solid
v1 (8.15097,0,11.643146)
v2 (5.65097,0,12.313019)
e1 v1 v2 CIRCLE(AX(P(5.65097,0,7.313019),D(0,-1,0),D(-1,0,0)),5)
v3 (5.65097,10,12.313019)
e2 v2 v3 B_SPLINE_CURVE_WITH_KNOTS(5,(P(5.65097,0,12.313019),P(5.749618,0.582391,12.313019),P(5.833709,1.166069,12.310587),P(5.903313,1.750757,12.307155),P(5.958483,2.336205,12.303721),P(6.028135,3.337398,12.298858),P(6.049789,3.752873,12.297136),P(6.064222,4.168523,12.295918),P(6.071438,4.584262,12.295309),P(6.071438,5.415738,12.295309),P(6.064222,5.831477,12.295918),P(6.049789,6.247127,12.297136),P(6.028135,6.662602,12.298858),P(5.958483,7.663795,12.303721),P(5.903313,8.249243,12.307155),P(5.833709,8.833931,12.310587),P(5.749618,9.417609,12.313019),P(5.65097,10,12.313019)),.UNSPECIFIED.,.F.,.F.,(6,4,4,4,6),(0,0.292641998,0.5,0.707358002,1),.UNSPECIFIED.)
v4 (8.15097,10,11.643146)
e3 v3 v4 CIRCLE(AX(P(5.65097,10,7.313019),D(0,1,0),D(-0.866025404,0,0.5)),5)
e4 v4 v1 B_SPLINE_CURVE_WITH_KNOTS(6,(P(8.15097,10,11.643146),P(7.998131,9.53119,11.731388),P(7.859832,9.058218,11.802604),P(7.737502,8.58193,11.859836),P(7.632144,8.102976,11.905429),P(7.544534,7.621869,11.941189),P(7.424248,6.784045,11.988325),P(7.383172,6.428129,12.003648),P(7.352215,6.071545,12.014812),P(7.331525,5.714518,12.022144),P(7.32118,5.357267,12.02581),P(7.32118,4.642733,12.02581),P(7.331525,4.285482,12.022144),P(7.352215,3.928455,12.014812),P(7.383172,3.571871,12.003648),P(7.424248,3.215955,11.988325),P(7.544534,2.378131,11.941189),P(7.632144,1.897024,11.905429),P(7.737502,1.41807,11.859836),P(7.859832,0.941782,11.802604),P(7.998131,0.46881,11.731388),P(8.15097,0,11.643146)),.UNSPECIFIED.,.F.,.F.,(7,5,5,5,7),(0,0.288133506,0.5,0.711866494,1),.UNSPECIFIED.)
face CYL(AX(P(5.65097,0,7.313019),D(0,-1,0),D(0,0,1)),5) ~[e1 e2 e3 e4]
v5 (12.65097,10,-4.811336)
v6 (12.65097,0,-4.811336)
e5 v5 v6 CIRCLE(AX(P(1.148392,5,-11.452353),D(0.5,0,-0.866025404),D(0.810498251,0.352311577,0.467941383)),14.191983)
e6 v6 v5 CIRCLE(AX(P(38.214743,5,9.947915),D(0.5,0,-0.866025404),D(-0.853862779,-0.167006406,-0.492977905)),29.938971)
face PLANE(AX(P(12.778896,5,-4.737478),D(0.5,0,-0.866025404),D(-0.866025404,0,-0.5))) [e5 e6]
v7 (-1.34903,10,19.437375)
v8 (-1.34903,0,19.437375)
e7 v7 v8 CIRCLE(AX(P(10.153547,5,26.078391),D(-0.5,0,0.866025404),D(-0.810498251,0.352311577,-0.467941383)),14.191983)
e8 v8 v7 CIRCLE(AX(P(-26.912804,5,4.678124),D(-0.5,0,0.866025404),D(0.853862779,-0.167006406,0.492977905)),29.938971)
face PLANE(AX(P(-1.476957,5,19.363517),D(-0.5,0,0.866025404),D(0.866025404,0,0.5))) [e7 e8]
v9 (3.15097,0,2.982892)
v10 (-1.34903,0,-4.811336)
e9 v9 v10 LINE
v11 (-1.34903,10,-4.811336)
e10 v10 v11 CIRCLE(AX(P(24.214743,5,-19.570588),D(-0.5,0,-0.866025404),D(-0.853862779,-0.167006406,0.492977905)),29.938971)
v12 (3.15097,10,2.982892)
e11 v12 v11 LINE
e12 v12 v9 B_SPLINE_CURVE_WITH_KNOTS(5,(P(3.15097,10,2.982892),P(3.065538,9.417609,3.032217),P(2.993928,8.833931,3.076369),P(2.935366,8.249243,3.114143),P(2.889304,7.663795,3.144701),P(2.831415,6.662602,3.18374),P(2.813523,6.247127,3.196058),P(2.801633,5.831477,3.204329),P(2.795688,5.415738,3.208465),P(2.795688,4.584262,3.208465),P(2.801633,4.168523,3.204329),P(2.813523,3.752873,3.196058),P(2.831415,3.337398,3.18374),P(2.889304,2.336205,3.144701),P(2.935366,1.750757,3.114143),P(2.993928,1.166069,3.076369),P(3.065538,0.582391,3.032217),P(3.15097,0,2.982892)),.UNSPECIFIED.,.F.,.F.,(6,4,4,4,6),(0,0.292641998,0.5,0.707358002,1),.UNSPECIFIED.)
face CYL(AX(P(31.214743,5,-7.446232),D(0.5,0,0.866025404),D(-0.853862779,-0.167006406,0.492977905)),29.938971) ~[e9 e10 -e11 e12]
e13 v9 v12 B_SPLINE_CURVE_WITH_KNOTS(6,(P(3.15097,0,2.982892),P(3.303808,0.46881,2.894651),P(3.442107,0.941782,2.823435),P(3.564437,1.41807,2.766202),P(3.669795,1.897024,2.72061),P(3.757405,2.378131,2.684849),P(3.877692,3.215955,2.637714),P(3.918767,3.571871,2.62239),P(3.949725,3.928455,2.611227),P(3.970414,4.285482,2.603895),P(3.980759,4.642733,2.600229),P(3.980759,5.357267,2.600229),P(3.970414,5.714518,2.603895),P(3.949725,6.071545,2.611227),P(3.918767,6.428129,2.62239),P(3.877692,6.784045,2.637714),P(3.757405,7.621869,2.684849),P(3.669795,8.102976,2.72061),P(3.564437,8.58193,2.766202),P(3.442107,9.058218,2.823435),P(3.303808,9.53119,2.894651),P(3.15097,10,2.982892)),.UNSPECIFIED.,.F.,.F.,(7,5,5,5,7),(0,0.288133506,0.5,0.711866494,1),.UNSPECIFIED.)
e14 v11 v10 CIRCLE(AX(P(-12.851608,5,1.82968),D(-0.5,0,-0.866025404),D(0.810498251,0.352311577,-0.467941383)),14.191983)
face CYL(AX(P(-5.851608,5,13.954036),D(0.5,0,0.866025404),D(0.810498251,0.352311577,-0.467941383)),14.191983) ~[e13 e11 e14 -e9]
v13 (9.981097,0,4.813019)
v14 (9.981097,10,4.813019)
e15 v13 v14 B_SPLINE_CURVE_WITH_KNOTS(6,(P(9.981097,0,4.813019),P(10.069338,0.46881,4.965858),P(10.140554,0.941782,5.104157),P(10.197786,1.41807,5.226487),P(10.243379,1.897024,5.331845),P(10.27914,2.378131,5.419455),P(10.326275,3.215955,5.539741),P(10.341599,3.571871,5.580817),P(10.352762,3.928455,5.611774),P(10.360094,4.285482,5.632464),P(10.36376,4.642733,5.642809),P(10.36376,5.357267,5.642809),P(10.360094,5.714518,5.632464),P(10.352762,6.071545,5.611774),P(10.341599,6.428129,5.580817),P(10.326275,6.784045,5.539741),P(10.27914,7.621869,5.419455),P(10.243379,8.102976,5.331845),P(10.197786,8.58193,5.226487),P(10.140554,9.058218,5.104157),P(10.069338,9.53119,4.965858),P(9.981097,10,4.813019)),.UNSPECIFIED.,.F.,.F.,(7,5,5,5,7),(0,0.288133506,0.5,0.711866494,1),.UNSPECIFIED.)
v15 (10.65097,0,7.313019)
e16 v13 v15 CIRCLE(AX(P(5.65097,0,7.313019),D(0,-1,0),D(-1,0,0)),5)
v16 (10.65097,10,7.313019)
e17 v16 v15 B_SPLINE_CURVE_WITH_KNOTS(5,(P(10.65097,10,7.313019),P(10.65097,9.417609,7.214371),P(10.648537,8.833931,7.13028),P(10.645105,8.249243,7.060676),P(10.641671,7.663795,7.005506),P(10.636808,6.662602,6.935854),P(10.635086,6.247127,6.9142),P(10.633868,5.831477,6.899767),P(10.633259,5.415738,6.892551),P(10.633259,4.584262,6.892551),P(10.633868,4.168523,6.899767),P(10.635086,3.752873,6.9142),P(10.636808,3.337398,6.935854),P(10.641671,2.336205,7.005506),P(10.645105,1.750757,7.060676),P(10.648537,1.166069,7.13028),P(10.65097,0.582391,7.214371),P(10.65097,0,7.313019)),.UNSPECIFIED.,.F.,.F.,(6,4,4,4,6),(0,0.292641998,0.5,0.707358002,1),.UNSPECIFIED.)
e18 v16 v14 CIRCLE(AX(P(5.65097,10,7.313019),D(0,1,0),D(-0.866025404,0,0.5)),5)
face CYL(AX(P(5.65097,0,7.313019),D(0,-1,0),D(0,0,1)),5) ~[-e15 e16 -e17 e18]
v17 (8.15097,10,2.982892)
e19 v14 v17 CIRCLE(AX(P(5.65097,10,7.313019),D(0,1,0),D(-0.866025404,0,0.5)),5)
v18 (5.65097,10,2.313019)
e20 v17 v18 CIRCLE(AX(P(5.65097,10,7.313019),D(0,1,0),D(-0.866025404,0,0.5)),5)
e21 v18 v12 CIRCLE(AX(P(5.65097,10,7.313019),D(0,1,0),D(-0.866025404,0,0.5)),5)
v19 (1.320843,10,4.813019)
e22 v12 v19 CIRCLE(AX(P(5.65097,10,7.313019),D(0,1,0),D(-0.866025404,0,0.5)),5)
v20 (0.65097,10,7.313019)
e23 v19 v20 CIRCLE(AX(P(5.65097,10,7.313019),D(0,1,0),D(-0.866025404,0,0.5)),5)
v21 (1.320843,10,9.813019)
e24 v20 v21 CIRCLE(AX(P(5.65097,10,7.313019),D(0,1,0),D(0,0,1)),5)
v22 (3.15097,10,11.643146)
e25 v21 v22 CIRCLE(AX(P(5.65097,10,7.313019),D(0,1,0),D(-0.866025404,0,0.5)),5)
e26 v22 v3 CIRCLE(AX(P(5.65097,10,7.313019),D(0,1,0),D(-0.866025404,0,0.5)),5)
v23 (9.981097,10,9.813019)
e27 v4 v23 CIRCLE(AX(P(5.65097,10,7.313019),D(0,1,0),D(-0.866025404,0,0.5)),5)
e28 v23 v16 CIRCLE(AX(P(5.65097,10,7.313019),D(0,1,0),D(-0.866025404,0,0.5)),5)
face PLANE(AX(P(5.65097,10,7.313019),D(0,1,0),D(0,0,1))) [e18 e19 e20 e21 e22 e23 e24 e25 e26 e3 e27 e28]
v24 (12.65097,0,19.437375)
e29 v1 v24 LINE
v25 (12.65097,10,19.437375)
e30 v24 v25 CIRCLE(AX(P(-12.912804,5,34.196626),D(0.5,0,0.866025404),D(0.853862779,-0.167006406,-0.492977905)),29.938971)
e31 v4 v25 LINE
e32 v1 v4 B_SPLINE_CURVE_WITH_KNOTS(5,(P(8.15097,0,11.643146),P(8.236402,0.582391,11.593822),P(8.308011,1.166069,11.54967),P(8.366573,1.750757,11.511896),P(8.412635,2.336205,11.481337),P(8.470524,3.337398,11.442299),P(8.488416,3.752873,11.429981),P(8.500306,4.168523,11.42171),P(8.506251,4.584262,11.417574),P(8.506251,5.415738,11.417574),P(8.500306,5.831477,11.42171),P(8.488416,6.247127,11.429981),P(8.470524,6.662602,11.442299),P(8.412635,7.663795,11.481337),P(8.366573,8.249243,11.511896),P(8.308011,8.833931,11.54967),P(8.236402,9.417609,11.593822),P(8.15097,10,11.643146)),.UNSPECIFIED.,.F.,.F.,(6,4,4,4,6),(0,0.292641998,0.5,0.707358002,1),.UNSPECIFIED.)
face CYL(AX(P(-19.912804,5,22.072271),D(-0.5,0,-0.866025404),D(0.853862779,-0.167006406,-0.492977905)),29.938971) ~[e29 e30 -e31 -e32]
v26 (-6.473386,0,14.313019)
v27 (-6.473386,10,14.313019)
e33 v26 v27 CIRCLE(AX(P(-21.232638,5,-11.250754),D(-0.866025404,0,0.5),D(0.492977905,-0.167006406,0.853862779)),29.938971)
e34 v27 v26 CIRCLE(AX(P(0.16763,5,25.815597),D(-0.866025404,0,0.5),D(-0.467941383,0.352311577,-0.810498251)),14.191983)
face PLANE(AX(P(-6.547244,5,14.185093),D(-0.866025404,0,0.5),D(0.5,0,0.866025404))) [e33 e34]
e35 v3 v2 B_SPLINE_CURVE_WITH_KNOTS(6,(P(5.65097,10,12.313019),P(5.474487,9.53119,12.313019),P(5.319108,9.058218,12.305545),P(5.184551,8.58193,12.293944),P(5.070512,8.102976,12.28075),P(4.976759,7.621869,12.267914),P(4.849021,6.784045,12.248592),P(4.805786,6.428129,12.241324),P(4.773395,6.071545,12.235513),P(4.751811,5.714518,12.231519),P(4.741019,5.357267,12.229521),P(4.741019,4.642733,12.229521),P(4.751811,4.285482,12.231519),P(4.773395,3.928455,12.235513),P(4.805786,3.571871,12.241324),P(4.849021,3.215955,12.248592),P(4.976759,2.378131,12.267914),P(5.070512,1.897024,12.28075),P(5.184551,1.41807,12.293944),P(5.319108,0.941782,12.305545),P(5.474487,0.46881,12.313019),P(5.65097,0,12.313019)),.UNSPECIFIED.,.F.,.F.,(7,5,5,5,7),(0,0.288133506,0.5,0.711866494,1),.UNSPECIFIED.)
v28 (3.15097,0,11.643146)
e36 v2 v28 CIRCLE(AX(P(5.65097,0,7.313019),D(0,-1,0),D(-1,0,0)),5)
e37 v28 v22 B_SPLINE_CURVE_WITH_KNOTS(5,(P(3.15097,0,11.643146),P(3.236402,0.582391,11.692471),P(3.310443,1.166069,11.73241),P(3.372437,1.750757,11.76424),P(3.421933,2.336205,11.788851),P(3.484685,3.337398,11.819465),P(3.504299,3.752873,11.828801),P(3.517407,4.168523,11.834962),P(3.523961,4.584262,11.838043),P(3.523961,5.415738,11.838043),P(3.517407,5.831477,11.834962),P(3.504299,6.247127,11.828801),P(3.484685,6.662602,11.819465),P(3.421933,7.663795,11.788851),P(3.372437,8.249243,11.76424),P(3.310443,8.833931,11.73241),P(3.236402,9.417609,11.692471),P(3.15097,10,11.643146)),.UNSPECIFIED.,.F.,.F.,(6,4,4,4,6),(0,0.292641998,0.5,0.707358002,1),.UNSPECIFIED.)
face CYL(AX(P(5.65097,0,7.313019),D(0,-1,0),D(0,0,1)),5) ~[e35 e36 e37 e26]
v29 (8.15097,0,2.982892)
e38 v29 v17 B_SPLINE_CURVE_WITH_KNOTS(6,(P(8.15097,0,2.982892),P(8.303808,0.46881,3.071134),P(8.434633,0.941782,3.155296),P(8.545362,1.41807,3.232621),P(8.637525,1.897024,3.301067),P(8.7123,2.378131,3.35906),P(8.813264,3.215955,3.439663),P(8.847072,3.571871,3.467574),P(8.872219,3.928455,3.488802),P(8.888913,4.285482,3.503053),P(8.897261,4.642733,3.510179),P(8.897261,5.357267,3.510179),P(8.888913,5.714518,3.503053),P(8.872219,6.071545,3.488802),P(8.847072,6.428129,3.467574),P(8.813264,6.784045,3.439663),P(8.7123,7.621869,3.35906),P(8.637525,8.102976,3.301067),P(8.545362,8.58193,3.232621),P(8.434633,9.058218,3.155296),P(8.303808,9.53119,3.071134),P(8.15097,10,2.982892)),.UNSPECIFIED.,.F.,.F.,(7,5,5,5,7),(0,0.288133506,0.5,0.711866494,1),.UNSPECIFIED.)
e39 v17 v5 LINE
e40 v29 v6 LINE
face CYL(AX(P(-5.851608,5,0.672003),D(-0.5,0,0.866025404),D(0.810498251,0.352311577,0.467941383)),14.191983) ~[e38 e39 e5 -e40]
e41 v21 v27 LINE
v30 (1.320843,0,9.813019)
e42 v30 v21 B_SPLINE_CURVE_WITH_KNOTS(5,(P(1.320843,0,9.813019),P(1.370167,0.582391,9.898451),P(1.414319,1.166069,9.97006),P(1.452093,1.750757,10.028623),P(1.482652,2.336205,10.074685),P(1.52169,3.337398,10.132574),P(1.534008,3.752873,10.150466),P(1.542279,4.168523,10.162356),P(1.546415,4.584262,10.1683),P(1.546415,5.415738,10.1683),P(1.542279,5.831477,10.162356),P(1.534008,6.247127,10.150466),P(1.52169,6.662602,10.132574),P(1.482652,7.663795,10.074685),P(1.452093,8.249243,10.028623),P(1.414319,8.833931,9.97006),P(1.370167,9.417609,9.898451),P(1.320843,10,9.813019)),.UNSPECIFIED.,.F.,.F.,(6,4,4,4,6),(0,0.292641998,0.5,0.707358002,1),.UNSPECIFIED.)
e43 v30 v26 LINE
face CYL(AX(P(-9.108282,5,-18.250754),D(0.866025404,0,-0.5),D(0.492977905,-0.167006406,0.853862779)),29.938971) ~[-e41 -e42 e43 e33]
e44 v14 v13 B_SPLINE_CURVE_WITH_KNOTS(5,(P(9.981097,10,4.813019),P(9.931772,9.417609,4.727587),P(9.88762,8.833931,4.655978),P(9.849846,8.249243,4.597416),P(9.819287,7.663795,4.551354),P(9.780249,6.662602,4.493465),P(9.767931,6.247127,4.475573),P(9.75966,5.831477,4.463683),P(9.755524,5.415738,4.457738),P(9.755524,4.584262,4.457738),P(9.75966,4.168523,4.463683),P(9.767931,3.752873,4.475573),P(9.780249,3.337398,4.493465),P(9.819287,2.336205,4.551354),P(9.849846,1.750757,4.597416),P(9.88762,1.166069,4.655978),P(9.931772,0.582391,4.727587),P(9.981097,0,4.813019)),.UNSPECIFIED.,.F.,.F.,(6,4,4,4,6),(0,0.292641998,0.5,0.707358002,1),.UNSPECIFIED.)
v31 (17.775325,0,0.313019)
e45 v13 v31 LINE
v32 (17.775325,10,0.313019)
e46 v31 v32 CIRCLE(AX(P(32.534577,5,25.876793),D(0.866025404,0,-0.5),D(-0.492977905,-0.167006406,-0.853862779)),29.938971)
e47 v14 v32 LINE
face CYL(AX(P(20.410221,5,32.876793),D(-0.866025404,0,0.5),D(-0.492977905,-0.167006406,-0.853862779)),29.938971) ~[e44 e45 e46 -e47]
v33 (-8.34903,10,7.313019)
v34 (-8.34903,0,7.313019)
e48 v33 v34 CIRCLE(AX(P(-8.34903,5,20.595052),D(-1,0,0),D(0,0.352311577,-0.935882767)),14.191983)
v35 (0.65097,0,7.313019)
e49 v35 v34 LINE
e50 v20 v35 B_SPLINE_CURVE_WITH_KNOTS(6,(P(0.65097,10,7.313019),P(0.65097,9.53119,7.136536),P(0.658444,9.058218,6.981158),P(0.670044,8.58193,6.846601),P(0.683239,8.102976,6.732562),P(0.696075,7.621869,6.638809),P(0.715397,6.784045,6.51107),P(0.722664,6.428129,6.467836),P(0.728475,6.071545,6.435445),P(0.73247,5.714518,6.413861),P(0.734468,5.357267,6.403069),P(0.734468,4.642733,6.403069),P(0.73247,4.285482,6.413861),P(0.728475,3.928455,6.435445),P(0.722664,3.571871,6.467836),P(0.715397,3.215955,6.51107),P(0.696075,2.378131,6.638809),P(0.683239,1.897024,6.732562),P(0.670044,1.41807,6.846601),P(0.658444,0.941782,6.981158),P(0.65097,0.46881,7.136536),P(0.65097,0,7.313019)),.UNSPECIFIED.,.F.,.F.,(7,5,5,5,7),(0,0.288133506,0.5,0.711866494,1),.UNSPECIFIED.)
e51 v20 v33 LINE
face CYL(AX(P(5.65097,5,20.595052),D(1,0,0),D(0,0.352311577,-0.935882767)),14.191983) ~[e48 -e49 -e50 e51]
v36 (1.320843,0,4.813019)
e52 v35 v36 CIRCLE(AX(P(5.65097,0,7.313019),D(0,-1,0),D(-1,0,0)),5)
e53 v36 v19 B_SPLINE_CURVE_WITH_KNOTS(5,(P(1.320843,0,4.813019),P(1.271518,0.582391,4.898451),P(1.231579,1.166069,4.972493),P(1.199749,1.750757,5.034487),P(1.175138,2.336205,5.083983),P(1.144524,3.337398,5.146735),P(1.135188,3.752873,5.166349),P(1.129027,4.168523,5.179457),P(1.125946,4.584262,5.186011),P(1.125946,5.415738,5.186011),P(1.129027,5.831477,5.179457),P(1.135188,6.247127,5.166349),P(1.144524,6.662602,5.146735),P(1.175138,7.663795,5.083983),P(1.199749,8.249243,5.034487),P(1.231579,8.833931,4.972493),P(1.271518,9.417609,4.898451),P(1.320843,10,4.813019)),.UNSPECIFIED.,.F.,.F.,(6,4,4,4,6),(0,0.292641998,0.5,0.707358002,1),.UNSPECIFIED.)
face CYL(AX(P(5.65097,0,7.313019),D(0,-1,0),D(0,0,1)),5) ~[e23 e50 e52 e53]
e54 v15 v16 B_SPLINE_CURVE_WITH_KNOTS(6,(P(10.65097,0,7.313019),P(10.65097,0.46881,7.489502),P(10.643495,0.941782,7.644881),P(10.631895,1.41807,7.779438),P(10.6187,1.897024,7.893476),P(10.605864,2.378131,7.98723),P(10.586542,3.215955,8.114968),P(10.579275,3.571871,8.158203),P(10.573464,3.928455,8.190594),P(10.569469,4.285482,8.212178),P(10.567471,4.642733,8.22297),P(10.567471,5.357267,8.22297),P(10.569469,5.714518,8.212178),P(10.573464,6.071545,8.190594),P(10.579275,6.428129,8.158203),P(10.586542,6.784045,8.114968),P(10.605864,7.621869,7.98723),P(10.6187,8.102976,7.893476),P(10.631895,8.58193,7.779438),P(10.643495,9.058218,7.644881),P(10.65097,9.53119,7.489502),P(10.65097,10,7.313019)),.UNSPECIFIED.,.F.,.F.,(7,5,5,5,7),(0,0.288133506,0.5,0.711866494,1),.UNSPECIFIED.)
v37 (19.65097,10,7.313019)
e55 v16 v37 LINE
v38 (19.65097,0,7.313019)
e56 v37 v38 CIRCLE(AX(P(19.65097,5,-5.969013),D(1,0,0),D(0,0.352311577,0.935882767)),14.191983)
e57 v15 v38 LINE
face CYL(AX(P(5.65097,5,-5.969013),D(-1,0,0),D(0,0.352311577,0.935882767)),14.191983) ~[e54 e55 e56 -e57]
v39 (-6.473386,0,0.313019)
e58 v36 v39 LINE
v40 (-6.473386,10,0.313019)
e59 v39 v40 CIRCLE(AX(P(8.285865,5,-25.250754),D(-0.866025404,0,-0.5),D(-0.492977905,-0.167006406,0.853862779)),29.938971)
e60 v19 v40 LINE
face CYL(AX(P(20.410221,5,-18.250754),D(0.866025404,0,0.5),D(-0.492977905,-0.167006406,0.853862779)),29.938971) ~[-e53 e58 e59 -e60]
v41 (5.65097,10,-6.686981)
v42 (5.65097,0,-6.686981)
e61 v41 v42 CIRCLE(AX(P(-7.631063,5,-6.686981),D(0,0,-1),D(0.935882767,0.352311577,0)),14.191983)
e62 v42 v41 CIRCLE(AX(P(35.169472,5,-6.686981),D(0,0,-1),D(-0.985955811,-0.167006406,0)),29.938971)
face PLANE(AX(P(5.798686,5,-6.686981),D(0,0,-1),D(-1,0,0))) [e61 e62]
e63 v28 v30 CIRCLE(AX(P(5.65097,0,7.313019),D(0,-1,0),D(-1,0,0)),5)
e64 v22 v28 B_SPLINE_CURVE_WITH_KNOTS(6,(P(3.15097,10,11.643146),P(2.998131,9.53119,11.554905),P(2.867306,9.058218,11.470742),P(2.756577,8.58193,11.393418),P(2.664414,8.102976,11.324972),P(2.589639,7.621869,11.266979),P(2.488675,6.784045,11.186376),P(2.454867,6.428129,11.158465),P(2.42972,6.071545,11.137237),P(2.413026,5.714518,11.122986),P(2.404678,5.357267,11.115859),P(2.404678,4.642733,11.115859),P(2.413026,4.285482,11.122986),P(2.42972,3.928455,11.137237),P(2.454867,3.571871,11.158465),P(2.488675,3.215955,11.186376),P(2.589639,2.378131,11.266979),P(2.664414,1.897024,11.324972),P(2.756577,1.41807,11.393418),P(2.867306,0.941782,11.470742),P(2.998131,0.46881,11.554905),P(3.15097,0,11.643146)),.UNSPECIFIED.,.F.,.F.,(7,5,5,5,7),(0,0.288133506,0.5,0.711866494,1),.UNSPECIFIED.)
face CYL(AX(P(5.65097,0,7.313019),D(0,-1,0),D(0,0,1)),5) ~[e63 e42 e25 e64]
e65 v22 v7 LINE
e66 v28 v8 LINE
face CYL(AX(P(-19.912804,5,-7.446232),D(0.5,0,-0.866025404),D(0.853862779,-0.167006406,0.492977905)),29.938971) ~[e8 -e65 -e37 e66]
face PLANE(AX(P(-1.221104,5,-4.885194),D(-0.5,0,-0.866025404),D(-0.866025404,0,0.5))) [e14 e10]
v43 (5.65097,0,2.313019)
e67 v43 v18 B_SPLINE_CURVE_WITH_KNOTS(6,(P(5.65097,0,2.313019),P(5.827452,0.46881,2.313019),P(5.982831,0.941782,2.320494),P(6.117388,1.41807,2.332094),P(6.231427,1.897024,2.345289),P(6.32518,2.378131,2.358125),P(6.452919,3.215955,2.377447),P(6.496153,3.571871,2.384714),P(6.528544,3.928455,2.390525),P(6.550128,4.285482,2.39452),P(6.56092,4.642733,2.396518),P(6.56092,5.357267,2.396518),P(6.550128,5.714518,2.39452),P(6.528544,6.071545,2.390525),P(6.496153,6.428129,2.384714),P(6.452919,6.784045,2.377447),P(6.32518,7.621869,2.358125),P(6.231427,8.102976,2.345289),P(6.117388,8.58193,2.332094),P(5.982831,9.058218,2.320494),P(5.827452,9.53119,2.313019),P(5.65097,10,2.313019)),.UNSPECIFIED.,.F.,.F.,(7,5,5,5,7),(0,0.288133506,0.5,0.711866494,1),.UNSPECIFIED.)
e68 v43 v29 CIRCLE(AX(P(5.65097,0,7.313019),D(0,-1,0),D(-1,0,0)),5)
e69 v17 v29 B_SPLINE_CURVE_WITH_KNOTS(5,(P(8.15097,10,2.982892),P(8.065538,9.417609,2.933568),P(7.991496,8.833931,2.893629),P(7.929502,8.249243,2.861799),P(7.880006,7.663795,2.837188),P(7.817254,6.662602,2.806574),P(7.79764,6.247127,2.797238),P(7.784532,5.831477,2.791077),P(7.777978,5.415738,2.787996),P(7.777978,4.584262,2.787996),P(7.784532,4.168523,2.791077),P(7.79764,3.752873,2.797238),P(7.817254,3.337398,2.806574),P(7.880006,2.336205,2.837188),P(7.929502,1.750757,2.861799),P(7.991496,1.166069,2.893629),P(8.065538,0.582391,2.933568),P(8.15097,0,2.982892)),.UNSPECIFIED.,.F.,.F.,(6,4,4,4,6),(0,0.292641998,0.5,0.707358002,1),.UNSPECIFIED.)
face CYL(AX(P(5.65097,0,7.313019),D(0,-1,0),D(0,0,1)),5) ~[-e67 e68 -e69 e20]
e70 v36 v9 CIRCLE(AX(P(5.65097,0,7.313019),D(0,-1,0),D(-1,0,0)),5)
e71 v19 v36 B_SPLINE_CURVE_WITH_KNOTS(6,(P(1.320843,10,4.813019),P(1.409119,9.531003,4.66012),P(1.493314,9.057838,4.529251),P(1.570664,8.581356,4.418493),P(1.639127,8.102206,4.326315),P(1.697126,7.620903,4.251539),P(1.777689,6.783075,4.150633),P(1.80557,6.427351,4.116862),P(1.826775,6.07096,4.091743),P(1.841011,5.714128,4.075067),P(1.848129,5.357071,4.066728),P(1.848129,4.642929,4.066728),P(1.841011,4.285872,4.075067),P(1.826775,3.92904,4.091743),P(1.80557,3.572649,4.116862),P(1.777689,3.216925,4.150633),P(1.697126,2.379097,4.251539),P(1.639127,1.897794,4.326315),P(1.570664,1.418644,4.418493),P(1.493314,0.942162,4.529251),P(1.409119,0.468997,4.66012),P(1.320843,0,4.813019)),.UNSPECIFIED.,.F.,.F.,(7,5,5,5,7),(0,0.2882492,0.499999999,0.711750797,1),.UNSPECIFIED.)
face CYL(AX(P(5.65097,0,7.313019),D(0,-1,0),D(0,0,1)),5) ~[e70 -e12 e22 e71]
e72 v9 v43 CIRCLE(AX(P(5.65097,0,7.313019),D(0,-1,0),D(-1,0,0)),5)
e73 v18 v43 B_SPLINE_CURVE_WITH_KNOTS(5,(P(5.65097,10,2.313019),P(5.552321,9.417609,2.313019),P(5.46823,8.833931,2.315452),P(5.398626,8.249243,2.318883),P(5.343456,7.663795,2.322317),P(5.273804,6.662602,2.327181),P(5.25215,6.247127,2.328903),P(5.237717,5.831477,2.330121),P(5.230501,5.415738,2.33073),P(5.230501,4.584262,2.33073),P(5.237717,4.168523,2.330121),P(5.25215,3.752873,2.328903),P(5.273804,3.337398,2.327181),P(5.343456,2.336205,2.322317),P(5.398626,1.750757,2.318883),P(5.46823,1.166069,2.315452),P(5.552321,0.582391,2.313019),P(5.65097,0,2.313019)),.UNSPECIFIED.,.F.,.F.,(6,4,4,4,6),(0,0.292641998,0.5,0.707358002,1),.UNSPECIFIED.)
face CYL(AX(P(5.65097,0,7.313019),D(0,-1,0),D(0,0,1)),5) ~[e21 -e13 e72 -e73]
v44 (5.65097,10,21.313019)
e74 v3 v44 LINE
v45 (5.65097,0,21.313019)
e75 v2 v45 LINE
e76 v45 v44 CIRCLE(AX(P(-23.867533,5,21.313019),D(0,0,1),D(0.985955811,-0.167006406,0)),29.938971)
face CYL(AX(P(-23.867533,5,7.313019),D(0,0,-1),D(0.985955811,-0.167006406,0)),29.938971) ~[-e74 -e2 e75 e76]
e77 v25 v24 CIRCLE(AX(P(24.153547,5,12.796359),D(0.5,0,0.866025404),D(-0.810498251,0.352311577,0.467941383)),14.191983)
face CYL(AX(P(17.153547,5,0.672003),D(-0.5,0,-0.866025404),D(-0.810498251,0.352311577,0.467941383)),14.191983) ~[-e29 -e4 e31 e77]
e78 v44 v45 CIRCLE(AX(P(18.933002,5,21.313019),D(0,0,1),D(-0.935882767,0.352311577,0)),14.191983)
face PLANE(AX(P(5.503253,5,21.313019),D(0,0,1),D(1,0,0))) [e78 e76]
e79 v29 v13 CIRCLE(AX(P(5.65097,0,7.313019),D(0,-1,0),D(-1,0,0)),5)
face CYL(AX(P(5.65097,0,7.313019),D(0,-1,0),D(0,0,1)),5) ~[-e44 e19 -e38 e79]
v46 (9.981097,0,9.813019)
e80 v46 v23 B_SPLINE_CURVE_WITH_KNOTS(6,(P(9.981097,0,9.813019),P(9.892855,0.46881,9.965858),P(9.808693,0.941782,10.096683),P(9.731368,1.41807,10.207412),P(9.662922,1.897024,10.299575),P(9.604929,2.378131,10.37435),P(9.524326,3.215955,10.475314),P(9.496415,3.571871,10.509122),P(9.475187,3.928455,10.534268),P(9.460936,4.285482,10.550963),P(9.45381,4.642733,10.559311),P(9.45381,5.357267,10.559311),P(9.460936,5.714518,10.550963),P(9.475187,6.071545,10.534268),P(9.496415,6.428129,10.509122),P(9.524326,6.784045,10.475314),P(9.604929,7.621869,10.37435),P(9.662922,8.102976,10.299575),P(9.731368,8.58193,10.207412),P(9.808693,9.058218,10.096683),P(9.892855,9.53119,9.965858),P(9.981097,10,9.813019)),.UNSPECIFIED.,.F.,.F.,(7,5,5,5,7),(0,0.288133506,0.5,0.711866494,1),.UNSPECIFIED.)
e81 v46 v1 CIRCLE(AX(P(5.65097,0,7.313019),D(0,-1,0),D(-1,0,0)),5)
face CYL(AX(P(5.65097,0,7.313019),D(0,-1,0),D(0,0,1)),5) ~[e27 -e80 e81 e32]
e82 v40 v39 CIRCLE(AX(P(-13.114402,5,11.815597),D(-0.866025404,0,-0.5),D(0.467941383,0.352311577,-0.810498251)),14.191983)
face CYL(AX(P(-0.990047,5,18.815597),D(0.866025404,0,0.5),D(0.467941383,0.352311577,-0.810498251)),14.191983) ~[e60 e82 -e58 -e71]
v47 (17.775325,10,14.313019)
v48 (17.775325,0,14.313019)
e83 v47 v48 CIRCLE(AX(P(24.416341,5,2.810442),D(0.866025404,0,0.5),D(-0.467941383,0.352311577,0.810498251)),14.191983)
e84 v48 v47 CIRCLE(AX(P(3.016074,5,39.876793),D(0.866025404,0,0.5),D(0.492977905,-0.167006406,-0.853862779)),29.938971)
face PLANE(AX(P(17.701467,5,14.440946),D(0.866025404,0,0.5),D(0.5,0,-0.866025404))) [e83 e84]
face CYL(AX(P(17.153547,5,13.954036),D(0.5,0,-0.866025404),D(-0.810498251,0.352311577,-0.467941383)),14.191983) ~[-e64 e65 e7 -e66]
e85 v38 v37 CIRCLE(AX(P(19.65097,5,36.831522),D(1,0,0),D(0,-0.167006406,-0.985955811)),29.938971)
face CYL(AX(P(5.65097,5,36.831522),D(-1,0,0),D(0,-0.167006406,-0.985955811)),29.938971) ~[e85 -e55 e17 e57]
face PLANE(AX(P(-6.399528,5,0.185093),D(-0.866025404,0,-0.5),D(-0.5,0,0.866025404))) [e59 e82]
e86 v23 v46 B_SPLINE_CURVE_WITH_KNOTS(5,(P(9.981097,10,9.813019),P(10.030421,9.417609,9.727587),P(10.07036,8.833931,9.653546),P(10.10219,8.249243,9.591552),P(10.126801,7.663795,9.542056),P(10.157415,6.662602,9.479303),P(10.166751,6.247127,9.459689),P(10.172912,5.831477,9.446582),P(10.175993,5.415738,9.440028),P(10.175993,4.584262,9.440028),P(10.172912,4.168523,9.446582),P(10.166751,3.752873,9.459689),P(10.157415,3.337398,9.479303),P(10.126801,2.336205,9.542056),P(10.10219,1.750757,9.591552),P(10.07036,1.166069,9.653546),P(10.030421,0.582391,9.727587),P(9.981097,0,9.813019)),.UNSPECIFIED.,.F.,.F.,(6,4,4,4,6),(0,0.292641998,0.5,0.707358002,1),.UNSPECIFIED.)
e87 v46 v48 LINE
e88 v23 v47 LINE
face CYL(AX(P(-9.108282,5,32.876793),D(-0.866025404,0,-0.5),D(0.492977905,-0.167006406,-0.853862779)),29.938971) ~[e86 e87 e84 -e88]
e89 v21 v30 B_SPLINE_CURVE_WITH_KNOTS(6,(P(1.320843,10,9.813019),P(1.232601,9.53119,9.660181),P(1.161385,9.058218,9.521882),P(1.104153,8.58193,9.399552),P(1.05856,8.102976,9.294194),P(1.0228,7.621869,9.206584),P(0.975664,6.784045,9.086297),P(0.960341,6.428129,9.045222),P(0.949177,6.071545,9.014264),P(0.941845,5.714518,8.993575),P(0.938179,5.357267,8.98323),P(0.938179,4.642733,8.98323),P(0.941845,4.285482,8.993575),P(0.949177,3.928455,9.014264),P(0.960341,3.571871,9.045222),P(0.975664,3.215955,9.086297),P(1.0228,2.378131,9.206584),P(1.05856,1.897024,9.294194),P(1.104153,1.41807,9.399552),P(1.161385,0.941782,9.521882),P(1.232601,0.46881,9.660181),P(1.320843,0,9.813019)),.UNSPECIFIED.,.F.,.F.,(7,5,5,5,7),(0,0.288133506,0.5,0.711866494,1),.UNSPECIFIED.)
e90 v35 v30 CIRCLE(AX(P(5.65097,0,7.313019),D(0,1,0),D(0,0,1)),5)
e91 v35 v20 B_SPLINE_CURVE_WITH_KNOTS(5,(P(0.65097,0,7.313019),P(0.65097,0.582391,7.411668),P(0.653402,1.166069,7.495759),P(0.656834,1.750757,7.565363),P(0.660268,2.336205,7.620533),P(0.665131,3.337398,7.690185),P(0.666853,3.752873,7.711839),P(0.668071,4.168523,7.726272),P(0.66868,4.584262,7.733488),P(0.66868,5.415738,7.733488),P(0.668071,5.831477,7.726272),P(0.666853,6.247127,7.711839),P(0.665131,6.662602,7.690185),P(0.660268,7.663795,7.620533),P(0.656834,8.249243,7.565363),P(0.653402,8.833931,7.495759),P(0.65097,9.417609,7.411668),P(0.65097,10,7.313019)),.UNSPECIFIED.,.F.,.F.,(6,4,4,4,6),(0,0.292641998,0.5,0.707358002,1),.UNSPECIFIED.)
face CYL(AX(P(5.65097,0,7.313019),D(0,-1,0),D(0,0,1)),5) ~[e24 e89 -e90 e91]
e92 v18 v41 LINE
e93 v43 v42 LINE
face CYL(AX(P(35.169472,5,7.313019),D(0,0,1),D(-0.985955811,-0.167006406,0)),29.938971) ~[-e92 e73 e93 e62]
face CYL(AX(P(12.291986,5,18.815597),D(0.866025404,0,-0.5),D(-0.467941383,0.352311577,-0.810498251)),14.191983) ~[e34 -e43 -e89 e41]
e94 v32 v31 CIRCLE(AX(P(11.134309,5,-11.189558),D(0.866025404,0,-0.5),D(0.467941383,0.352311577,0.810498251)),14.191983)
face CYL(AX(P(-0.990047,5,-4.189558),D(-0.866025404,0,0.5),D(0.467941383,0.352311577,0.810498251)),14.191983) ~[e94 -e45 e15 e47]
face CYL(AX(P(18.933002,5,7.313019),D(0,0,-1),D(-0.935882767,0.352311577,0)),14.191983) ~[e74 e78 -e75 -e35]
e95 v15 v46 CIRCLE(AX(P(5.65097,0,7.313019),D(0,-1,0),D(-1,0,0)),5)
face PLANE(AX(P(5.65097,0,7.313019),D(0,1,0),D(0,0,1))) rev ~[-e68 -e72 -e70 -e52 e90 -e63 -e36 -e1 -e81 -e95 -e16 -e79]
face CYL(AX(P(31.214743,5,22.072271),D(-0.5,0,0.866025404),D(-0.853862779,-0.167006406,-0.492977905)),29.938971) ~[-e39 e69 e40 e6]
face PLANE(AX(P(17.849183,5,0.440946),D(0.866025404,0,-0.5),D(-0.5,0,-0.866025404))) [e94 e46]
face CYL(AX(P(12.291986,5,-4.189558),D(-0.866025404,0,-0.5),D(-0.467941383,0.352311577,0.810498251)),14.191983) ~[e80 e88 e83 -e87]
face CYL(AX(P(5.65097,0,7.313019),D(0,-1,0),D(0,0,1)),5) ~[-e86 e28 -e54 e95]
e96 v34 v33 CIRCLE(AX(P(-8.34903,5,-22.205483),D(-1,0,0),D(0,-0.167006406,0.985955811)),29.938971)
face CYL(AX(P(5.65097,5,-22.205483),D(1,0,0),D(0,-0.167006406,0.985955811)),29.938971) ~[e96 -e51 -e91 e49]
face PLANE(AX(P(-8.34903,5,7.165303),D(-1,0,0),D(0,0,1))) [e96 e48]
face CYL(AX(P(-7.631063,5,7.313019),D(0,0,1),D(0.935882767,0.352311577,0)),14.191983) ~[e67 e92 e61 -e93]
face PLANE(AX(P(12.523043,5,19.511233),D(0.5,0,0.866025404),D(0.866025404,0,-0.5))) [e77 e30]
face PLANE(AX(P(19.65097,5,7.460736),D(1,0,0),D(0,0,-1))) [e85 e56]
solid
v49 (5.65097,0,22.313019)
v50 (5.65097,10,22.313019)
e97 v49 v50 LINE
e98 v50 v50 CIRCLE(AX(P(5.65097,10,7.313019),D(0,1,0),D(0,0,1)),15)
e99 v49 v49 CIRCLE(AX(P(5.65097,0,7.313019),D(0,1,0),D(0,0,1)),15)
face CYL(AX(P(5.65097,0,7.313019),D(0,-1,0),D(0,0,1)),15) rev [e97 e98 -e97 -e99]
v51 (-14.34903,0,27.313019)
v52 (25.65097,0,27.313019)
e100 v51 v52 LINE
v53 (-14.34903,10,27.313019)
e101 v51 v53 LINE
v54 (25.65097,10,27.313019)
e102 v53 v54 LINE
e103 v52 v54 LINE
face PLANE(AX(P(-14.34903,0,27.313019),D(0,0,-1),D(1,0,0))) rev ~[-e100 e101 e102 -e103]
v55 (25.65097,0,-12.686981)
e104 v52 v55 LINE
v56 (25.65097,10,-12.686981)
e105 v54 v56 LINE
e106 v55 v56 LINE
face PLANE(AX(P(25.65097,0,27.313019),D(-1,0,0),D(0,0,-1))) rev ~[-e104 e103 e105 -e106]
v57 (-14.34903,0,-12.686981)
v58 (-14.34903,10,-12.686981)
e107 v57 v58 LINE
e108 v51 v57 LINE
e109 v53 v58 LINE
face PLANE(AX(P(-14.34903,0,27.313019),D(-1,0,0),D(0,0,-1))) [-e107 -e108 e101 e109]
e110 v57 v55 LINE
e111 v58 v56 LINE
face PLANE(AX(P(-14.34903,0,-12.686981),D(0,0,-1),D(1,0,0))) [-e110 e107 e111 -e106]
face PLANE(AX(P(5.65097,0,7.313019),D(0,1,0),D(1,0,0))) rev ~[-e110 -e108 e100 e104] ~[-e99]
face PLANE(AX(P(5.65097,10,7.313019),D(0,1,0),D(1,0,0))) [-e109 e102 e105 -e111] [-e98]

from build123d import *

# Parameters (mm, degrees)
SKETCH_1_W               = 40
SKETCH_1_H               = 40
SKETCH_1_R               = 15
EXTRUDE_1_DEPTH          = 10
SKETCH_1_R_2             = 5
EXTRUDE_1_2_DEPTH        = 10
EXTRUDE_2_DEPTH          = 14
PATTERN_CIRCULAR_1_COUNT = 12


with BuildPart() as part:
    # 草图1 → 凸台-拉伸1 (new body)
    with BuildSketch(Plane(origin=(0, 0, 0), x_dir=(1, 0, 0), z_dir=(0, 1, 0))):
        with Locations((5.650969529, -7.313019391)):
            Rectangle(SKETCH_1_W, SKETCH_1_H)
        with Locations(Location((5.650969529, -7.313019391, 0), (0, 0, 270))):
            Circle(SKETCH_1_R, mode=Mode.SUBTRACT)
    extrude(amount=EXTRUDE_1_DEPTH)


with BuildPart() as body_2:
    # 草图1 → Extrude 1 2 (new body)
    with BuildSketch(Plane(origin=(0, 0, 0), x_dir=(1, 0, 0), z_dir=(0, 1, 0))):
        with Locations(Location((5.650969529, -7.313019391, 0), (0, 0, 270))):
            Circle(SKETCH_1_R_2)
    extrude(amount=EXTRUDE_1_2_DEPTH)

    # 草图2 → 凸台-拉伸2 (add)
    with BuildSketch(Plane.ZY.offset(-5.650969529)):
        with BuildLine():
            ThreePointArc((7.313019391, 10), (6.403068689, 5), (7.313019391, 0))
            ThreePointArc((7.313019391, 0), (7.733487975, 5), (7.313019391, 10))
        make_face()
    extrude_2 = extrude(amount=EXTRUDE_2_DEPTH)

    # 阵列(圆周)1: 凸台-拉伸2 ×12 about axis
    pattern_circular_1_axis = Axis((5.650969529, 0, 7.313019391), (0, 1, 0))
    for i in range(1, PATTERN_CIRCULAR_1_COUNT):
        add(extrude_2.rotate(pattern_circular_1_axis, i * 360 / PATTERN_CIRCULAR_1_COUNT))


solid = Compound([part.part, body_2.part])
